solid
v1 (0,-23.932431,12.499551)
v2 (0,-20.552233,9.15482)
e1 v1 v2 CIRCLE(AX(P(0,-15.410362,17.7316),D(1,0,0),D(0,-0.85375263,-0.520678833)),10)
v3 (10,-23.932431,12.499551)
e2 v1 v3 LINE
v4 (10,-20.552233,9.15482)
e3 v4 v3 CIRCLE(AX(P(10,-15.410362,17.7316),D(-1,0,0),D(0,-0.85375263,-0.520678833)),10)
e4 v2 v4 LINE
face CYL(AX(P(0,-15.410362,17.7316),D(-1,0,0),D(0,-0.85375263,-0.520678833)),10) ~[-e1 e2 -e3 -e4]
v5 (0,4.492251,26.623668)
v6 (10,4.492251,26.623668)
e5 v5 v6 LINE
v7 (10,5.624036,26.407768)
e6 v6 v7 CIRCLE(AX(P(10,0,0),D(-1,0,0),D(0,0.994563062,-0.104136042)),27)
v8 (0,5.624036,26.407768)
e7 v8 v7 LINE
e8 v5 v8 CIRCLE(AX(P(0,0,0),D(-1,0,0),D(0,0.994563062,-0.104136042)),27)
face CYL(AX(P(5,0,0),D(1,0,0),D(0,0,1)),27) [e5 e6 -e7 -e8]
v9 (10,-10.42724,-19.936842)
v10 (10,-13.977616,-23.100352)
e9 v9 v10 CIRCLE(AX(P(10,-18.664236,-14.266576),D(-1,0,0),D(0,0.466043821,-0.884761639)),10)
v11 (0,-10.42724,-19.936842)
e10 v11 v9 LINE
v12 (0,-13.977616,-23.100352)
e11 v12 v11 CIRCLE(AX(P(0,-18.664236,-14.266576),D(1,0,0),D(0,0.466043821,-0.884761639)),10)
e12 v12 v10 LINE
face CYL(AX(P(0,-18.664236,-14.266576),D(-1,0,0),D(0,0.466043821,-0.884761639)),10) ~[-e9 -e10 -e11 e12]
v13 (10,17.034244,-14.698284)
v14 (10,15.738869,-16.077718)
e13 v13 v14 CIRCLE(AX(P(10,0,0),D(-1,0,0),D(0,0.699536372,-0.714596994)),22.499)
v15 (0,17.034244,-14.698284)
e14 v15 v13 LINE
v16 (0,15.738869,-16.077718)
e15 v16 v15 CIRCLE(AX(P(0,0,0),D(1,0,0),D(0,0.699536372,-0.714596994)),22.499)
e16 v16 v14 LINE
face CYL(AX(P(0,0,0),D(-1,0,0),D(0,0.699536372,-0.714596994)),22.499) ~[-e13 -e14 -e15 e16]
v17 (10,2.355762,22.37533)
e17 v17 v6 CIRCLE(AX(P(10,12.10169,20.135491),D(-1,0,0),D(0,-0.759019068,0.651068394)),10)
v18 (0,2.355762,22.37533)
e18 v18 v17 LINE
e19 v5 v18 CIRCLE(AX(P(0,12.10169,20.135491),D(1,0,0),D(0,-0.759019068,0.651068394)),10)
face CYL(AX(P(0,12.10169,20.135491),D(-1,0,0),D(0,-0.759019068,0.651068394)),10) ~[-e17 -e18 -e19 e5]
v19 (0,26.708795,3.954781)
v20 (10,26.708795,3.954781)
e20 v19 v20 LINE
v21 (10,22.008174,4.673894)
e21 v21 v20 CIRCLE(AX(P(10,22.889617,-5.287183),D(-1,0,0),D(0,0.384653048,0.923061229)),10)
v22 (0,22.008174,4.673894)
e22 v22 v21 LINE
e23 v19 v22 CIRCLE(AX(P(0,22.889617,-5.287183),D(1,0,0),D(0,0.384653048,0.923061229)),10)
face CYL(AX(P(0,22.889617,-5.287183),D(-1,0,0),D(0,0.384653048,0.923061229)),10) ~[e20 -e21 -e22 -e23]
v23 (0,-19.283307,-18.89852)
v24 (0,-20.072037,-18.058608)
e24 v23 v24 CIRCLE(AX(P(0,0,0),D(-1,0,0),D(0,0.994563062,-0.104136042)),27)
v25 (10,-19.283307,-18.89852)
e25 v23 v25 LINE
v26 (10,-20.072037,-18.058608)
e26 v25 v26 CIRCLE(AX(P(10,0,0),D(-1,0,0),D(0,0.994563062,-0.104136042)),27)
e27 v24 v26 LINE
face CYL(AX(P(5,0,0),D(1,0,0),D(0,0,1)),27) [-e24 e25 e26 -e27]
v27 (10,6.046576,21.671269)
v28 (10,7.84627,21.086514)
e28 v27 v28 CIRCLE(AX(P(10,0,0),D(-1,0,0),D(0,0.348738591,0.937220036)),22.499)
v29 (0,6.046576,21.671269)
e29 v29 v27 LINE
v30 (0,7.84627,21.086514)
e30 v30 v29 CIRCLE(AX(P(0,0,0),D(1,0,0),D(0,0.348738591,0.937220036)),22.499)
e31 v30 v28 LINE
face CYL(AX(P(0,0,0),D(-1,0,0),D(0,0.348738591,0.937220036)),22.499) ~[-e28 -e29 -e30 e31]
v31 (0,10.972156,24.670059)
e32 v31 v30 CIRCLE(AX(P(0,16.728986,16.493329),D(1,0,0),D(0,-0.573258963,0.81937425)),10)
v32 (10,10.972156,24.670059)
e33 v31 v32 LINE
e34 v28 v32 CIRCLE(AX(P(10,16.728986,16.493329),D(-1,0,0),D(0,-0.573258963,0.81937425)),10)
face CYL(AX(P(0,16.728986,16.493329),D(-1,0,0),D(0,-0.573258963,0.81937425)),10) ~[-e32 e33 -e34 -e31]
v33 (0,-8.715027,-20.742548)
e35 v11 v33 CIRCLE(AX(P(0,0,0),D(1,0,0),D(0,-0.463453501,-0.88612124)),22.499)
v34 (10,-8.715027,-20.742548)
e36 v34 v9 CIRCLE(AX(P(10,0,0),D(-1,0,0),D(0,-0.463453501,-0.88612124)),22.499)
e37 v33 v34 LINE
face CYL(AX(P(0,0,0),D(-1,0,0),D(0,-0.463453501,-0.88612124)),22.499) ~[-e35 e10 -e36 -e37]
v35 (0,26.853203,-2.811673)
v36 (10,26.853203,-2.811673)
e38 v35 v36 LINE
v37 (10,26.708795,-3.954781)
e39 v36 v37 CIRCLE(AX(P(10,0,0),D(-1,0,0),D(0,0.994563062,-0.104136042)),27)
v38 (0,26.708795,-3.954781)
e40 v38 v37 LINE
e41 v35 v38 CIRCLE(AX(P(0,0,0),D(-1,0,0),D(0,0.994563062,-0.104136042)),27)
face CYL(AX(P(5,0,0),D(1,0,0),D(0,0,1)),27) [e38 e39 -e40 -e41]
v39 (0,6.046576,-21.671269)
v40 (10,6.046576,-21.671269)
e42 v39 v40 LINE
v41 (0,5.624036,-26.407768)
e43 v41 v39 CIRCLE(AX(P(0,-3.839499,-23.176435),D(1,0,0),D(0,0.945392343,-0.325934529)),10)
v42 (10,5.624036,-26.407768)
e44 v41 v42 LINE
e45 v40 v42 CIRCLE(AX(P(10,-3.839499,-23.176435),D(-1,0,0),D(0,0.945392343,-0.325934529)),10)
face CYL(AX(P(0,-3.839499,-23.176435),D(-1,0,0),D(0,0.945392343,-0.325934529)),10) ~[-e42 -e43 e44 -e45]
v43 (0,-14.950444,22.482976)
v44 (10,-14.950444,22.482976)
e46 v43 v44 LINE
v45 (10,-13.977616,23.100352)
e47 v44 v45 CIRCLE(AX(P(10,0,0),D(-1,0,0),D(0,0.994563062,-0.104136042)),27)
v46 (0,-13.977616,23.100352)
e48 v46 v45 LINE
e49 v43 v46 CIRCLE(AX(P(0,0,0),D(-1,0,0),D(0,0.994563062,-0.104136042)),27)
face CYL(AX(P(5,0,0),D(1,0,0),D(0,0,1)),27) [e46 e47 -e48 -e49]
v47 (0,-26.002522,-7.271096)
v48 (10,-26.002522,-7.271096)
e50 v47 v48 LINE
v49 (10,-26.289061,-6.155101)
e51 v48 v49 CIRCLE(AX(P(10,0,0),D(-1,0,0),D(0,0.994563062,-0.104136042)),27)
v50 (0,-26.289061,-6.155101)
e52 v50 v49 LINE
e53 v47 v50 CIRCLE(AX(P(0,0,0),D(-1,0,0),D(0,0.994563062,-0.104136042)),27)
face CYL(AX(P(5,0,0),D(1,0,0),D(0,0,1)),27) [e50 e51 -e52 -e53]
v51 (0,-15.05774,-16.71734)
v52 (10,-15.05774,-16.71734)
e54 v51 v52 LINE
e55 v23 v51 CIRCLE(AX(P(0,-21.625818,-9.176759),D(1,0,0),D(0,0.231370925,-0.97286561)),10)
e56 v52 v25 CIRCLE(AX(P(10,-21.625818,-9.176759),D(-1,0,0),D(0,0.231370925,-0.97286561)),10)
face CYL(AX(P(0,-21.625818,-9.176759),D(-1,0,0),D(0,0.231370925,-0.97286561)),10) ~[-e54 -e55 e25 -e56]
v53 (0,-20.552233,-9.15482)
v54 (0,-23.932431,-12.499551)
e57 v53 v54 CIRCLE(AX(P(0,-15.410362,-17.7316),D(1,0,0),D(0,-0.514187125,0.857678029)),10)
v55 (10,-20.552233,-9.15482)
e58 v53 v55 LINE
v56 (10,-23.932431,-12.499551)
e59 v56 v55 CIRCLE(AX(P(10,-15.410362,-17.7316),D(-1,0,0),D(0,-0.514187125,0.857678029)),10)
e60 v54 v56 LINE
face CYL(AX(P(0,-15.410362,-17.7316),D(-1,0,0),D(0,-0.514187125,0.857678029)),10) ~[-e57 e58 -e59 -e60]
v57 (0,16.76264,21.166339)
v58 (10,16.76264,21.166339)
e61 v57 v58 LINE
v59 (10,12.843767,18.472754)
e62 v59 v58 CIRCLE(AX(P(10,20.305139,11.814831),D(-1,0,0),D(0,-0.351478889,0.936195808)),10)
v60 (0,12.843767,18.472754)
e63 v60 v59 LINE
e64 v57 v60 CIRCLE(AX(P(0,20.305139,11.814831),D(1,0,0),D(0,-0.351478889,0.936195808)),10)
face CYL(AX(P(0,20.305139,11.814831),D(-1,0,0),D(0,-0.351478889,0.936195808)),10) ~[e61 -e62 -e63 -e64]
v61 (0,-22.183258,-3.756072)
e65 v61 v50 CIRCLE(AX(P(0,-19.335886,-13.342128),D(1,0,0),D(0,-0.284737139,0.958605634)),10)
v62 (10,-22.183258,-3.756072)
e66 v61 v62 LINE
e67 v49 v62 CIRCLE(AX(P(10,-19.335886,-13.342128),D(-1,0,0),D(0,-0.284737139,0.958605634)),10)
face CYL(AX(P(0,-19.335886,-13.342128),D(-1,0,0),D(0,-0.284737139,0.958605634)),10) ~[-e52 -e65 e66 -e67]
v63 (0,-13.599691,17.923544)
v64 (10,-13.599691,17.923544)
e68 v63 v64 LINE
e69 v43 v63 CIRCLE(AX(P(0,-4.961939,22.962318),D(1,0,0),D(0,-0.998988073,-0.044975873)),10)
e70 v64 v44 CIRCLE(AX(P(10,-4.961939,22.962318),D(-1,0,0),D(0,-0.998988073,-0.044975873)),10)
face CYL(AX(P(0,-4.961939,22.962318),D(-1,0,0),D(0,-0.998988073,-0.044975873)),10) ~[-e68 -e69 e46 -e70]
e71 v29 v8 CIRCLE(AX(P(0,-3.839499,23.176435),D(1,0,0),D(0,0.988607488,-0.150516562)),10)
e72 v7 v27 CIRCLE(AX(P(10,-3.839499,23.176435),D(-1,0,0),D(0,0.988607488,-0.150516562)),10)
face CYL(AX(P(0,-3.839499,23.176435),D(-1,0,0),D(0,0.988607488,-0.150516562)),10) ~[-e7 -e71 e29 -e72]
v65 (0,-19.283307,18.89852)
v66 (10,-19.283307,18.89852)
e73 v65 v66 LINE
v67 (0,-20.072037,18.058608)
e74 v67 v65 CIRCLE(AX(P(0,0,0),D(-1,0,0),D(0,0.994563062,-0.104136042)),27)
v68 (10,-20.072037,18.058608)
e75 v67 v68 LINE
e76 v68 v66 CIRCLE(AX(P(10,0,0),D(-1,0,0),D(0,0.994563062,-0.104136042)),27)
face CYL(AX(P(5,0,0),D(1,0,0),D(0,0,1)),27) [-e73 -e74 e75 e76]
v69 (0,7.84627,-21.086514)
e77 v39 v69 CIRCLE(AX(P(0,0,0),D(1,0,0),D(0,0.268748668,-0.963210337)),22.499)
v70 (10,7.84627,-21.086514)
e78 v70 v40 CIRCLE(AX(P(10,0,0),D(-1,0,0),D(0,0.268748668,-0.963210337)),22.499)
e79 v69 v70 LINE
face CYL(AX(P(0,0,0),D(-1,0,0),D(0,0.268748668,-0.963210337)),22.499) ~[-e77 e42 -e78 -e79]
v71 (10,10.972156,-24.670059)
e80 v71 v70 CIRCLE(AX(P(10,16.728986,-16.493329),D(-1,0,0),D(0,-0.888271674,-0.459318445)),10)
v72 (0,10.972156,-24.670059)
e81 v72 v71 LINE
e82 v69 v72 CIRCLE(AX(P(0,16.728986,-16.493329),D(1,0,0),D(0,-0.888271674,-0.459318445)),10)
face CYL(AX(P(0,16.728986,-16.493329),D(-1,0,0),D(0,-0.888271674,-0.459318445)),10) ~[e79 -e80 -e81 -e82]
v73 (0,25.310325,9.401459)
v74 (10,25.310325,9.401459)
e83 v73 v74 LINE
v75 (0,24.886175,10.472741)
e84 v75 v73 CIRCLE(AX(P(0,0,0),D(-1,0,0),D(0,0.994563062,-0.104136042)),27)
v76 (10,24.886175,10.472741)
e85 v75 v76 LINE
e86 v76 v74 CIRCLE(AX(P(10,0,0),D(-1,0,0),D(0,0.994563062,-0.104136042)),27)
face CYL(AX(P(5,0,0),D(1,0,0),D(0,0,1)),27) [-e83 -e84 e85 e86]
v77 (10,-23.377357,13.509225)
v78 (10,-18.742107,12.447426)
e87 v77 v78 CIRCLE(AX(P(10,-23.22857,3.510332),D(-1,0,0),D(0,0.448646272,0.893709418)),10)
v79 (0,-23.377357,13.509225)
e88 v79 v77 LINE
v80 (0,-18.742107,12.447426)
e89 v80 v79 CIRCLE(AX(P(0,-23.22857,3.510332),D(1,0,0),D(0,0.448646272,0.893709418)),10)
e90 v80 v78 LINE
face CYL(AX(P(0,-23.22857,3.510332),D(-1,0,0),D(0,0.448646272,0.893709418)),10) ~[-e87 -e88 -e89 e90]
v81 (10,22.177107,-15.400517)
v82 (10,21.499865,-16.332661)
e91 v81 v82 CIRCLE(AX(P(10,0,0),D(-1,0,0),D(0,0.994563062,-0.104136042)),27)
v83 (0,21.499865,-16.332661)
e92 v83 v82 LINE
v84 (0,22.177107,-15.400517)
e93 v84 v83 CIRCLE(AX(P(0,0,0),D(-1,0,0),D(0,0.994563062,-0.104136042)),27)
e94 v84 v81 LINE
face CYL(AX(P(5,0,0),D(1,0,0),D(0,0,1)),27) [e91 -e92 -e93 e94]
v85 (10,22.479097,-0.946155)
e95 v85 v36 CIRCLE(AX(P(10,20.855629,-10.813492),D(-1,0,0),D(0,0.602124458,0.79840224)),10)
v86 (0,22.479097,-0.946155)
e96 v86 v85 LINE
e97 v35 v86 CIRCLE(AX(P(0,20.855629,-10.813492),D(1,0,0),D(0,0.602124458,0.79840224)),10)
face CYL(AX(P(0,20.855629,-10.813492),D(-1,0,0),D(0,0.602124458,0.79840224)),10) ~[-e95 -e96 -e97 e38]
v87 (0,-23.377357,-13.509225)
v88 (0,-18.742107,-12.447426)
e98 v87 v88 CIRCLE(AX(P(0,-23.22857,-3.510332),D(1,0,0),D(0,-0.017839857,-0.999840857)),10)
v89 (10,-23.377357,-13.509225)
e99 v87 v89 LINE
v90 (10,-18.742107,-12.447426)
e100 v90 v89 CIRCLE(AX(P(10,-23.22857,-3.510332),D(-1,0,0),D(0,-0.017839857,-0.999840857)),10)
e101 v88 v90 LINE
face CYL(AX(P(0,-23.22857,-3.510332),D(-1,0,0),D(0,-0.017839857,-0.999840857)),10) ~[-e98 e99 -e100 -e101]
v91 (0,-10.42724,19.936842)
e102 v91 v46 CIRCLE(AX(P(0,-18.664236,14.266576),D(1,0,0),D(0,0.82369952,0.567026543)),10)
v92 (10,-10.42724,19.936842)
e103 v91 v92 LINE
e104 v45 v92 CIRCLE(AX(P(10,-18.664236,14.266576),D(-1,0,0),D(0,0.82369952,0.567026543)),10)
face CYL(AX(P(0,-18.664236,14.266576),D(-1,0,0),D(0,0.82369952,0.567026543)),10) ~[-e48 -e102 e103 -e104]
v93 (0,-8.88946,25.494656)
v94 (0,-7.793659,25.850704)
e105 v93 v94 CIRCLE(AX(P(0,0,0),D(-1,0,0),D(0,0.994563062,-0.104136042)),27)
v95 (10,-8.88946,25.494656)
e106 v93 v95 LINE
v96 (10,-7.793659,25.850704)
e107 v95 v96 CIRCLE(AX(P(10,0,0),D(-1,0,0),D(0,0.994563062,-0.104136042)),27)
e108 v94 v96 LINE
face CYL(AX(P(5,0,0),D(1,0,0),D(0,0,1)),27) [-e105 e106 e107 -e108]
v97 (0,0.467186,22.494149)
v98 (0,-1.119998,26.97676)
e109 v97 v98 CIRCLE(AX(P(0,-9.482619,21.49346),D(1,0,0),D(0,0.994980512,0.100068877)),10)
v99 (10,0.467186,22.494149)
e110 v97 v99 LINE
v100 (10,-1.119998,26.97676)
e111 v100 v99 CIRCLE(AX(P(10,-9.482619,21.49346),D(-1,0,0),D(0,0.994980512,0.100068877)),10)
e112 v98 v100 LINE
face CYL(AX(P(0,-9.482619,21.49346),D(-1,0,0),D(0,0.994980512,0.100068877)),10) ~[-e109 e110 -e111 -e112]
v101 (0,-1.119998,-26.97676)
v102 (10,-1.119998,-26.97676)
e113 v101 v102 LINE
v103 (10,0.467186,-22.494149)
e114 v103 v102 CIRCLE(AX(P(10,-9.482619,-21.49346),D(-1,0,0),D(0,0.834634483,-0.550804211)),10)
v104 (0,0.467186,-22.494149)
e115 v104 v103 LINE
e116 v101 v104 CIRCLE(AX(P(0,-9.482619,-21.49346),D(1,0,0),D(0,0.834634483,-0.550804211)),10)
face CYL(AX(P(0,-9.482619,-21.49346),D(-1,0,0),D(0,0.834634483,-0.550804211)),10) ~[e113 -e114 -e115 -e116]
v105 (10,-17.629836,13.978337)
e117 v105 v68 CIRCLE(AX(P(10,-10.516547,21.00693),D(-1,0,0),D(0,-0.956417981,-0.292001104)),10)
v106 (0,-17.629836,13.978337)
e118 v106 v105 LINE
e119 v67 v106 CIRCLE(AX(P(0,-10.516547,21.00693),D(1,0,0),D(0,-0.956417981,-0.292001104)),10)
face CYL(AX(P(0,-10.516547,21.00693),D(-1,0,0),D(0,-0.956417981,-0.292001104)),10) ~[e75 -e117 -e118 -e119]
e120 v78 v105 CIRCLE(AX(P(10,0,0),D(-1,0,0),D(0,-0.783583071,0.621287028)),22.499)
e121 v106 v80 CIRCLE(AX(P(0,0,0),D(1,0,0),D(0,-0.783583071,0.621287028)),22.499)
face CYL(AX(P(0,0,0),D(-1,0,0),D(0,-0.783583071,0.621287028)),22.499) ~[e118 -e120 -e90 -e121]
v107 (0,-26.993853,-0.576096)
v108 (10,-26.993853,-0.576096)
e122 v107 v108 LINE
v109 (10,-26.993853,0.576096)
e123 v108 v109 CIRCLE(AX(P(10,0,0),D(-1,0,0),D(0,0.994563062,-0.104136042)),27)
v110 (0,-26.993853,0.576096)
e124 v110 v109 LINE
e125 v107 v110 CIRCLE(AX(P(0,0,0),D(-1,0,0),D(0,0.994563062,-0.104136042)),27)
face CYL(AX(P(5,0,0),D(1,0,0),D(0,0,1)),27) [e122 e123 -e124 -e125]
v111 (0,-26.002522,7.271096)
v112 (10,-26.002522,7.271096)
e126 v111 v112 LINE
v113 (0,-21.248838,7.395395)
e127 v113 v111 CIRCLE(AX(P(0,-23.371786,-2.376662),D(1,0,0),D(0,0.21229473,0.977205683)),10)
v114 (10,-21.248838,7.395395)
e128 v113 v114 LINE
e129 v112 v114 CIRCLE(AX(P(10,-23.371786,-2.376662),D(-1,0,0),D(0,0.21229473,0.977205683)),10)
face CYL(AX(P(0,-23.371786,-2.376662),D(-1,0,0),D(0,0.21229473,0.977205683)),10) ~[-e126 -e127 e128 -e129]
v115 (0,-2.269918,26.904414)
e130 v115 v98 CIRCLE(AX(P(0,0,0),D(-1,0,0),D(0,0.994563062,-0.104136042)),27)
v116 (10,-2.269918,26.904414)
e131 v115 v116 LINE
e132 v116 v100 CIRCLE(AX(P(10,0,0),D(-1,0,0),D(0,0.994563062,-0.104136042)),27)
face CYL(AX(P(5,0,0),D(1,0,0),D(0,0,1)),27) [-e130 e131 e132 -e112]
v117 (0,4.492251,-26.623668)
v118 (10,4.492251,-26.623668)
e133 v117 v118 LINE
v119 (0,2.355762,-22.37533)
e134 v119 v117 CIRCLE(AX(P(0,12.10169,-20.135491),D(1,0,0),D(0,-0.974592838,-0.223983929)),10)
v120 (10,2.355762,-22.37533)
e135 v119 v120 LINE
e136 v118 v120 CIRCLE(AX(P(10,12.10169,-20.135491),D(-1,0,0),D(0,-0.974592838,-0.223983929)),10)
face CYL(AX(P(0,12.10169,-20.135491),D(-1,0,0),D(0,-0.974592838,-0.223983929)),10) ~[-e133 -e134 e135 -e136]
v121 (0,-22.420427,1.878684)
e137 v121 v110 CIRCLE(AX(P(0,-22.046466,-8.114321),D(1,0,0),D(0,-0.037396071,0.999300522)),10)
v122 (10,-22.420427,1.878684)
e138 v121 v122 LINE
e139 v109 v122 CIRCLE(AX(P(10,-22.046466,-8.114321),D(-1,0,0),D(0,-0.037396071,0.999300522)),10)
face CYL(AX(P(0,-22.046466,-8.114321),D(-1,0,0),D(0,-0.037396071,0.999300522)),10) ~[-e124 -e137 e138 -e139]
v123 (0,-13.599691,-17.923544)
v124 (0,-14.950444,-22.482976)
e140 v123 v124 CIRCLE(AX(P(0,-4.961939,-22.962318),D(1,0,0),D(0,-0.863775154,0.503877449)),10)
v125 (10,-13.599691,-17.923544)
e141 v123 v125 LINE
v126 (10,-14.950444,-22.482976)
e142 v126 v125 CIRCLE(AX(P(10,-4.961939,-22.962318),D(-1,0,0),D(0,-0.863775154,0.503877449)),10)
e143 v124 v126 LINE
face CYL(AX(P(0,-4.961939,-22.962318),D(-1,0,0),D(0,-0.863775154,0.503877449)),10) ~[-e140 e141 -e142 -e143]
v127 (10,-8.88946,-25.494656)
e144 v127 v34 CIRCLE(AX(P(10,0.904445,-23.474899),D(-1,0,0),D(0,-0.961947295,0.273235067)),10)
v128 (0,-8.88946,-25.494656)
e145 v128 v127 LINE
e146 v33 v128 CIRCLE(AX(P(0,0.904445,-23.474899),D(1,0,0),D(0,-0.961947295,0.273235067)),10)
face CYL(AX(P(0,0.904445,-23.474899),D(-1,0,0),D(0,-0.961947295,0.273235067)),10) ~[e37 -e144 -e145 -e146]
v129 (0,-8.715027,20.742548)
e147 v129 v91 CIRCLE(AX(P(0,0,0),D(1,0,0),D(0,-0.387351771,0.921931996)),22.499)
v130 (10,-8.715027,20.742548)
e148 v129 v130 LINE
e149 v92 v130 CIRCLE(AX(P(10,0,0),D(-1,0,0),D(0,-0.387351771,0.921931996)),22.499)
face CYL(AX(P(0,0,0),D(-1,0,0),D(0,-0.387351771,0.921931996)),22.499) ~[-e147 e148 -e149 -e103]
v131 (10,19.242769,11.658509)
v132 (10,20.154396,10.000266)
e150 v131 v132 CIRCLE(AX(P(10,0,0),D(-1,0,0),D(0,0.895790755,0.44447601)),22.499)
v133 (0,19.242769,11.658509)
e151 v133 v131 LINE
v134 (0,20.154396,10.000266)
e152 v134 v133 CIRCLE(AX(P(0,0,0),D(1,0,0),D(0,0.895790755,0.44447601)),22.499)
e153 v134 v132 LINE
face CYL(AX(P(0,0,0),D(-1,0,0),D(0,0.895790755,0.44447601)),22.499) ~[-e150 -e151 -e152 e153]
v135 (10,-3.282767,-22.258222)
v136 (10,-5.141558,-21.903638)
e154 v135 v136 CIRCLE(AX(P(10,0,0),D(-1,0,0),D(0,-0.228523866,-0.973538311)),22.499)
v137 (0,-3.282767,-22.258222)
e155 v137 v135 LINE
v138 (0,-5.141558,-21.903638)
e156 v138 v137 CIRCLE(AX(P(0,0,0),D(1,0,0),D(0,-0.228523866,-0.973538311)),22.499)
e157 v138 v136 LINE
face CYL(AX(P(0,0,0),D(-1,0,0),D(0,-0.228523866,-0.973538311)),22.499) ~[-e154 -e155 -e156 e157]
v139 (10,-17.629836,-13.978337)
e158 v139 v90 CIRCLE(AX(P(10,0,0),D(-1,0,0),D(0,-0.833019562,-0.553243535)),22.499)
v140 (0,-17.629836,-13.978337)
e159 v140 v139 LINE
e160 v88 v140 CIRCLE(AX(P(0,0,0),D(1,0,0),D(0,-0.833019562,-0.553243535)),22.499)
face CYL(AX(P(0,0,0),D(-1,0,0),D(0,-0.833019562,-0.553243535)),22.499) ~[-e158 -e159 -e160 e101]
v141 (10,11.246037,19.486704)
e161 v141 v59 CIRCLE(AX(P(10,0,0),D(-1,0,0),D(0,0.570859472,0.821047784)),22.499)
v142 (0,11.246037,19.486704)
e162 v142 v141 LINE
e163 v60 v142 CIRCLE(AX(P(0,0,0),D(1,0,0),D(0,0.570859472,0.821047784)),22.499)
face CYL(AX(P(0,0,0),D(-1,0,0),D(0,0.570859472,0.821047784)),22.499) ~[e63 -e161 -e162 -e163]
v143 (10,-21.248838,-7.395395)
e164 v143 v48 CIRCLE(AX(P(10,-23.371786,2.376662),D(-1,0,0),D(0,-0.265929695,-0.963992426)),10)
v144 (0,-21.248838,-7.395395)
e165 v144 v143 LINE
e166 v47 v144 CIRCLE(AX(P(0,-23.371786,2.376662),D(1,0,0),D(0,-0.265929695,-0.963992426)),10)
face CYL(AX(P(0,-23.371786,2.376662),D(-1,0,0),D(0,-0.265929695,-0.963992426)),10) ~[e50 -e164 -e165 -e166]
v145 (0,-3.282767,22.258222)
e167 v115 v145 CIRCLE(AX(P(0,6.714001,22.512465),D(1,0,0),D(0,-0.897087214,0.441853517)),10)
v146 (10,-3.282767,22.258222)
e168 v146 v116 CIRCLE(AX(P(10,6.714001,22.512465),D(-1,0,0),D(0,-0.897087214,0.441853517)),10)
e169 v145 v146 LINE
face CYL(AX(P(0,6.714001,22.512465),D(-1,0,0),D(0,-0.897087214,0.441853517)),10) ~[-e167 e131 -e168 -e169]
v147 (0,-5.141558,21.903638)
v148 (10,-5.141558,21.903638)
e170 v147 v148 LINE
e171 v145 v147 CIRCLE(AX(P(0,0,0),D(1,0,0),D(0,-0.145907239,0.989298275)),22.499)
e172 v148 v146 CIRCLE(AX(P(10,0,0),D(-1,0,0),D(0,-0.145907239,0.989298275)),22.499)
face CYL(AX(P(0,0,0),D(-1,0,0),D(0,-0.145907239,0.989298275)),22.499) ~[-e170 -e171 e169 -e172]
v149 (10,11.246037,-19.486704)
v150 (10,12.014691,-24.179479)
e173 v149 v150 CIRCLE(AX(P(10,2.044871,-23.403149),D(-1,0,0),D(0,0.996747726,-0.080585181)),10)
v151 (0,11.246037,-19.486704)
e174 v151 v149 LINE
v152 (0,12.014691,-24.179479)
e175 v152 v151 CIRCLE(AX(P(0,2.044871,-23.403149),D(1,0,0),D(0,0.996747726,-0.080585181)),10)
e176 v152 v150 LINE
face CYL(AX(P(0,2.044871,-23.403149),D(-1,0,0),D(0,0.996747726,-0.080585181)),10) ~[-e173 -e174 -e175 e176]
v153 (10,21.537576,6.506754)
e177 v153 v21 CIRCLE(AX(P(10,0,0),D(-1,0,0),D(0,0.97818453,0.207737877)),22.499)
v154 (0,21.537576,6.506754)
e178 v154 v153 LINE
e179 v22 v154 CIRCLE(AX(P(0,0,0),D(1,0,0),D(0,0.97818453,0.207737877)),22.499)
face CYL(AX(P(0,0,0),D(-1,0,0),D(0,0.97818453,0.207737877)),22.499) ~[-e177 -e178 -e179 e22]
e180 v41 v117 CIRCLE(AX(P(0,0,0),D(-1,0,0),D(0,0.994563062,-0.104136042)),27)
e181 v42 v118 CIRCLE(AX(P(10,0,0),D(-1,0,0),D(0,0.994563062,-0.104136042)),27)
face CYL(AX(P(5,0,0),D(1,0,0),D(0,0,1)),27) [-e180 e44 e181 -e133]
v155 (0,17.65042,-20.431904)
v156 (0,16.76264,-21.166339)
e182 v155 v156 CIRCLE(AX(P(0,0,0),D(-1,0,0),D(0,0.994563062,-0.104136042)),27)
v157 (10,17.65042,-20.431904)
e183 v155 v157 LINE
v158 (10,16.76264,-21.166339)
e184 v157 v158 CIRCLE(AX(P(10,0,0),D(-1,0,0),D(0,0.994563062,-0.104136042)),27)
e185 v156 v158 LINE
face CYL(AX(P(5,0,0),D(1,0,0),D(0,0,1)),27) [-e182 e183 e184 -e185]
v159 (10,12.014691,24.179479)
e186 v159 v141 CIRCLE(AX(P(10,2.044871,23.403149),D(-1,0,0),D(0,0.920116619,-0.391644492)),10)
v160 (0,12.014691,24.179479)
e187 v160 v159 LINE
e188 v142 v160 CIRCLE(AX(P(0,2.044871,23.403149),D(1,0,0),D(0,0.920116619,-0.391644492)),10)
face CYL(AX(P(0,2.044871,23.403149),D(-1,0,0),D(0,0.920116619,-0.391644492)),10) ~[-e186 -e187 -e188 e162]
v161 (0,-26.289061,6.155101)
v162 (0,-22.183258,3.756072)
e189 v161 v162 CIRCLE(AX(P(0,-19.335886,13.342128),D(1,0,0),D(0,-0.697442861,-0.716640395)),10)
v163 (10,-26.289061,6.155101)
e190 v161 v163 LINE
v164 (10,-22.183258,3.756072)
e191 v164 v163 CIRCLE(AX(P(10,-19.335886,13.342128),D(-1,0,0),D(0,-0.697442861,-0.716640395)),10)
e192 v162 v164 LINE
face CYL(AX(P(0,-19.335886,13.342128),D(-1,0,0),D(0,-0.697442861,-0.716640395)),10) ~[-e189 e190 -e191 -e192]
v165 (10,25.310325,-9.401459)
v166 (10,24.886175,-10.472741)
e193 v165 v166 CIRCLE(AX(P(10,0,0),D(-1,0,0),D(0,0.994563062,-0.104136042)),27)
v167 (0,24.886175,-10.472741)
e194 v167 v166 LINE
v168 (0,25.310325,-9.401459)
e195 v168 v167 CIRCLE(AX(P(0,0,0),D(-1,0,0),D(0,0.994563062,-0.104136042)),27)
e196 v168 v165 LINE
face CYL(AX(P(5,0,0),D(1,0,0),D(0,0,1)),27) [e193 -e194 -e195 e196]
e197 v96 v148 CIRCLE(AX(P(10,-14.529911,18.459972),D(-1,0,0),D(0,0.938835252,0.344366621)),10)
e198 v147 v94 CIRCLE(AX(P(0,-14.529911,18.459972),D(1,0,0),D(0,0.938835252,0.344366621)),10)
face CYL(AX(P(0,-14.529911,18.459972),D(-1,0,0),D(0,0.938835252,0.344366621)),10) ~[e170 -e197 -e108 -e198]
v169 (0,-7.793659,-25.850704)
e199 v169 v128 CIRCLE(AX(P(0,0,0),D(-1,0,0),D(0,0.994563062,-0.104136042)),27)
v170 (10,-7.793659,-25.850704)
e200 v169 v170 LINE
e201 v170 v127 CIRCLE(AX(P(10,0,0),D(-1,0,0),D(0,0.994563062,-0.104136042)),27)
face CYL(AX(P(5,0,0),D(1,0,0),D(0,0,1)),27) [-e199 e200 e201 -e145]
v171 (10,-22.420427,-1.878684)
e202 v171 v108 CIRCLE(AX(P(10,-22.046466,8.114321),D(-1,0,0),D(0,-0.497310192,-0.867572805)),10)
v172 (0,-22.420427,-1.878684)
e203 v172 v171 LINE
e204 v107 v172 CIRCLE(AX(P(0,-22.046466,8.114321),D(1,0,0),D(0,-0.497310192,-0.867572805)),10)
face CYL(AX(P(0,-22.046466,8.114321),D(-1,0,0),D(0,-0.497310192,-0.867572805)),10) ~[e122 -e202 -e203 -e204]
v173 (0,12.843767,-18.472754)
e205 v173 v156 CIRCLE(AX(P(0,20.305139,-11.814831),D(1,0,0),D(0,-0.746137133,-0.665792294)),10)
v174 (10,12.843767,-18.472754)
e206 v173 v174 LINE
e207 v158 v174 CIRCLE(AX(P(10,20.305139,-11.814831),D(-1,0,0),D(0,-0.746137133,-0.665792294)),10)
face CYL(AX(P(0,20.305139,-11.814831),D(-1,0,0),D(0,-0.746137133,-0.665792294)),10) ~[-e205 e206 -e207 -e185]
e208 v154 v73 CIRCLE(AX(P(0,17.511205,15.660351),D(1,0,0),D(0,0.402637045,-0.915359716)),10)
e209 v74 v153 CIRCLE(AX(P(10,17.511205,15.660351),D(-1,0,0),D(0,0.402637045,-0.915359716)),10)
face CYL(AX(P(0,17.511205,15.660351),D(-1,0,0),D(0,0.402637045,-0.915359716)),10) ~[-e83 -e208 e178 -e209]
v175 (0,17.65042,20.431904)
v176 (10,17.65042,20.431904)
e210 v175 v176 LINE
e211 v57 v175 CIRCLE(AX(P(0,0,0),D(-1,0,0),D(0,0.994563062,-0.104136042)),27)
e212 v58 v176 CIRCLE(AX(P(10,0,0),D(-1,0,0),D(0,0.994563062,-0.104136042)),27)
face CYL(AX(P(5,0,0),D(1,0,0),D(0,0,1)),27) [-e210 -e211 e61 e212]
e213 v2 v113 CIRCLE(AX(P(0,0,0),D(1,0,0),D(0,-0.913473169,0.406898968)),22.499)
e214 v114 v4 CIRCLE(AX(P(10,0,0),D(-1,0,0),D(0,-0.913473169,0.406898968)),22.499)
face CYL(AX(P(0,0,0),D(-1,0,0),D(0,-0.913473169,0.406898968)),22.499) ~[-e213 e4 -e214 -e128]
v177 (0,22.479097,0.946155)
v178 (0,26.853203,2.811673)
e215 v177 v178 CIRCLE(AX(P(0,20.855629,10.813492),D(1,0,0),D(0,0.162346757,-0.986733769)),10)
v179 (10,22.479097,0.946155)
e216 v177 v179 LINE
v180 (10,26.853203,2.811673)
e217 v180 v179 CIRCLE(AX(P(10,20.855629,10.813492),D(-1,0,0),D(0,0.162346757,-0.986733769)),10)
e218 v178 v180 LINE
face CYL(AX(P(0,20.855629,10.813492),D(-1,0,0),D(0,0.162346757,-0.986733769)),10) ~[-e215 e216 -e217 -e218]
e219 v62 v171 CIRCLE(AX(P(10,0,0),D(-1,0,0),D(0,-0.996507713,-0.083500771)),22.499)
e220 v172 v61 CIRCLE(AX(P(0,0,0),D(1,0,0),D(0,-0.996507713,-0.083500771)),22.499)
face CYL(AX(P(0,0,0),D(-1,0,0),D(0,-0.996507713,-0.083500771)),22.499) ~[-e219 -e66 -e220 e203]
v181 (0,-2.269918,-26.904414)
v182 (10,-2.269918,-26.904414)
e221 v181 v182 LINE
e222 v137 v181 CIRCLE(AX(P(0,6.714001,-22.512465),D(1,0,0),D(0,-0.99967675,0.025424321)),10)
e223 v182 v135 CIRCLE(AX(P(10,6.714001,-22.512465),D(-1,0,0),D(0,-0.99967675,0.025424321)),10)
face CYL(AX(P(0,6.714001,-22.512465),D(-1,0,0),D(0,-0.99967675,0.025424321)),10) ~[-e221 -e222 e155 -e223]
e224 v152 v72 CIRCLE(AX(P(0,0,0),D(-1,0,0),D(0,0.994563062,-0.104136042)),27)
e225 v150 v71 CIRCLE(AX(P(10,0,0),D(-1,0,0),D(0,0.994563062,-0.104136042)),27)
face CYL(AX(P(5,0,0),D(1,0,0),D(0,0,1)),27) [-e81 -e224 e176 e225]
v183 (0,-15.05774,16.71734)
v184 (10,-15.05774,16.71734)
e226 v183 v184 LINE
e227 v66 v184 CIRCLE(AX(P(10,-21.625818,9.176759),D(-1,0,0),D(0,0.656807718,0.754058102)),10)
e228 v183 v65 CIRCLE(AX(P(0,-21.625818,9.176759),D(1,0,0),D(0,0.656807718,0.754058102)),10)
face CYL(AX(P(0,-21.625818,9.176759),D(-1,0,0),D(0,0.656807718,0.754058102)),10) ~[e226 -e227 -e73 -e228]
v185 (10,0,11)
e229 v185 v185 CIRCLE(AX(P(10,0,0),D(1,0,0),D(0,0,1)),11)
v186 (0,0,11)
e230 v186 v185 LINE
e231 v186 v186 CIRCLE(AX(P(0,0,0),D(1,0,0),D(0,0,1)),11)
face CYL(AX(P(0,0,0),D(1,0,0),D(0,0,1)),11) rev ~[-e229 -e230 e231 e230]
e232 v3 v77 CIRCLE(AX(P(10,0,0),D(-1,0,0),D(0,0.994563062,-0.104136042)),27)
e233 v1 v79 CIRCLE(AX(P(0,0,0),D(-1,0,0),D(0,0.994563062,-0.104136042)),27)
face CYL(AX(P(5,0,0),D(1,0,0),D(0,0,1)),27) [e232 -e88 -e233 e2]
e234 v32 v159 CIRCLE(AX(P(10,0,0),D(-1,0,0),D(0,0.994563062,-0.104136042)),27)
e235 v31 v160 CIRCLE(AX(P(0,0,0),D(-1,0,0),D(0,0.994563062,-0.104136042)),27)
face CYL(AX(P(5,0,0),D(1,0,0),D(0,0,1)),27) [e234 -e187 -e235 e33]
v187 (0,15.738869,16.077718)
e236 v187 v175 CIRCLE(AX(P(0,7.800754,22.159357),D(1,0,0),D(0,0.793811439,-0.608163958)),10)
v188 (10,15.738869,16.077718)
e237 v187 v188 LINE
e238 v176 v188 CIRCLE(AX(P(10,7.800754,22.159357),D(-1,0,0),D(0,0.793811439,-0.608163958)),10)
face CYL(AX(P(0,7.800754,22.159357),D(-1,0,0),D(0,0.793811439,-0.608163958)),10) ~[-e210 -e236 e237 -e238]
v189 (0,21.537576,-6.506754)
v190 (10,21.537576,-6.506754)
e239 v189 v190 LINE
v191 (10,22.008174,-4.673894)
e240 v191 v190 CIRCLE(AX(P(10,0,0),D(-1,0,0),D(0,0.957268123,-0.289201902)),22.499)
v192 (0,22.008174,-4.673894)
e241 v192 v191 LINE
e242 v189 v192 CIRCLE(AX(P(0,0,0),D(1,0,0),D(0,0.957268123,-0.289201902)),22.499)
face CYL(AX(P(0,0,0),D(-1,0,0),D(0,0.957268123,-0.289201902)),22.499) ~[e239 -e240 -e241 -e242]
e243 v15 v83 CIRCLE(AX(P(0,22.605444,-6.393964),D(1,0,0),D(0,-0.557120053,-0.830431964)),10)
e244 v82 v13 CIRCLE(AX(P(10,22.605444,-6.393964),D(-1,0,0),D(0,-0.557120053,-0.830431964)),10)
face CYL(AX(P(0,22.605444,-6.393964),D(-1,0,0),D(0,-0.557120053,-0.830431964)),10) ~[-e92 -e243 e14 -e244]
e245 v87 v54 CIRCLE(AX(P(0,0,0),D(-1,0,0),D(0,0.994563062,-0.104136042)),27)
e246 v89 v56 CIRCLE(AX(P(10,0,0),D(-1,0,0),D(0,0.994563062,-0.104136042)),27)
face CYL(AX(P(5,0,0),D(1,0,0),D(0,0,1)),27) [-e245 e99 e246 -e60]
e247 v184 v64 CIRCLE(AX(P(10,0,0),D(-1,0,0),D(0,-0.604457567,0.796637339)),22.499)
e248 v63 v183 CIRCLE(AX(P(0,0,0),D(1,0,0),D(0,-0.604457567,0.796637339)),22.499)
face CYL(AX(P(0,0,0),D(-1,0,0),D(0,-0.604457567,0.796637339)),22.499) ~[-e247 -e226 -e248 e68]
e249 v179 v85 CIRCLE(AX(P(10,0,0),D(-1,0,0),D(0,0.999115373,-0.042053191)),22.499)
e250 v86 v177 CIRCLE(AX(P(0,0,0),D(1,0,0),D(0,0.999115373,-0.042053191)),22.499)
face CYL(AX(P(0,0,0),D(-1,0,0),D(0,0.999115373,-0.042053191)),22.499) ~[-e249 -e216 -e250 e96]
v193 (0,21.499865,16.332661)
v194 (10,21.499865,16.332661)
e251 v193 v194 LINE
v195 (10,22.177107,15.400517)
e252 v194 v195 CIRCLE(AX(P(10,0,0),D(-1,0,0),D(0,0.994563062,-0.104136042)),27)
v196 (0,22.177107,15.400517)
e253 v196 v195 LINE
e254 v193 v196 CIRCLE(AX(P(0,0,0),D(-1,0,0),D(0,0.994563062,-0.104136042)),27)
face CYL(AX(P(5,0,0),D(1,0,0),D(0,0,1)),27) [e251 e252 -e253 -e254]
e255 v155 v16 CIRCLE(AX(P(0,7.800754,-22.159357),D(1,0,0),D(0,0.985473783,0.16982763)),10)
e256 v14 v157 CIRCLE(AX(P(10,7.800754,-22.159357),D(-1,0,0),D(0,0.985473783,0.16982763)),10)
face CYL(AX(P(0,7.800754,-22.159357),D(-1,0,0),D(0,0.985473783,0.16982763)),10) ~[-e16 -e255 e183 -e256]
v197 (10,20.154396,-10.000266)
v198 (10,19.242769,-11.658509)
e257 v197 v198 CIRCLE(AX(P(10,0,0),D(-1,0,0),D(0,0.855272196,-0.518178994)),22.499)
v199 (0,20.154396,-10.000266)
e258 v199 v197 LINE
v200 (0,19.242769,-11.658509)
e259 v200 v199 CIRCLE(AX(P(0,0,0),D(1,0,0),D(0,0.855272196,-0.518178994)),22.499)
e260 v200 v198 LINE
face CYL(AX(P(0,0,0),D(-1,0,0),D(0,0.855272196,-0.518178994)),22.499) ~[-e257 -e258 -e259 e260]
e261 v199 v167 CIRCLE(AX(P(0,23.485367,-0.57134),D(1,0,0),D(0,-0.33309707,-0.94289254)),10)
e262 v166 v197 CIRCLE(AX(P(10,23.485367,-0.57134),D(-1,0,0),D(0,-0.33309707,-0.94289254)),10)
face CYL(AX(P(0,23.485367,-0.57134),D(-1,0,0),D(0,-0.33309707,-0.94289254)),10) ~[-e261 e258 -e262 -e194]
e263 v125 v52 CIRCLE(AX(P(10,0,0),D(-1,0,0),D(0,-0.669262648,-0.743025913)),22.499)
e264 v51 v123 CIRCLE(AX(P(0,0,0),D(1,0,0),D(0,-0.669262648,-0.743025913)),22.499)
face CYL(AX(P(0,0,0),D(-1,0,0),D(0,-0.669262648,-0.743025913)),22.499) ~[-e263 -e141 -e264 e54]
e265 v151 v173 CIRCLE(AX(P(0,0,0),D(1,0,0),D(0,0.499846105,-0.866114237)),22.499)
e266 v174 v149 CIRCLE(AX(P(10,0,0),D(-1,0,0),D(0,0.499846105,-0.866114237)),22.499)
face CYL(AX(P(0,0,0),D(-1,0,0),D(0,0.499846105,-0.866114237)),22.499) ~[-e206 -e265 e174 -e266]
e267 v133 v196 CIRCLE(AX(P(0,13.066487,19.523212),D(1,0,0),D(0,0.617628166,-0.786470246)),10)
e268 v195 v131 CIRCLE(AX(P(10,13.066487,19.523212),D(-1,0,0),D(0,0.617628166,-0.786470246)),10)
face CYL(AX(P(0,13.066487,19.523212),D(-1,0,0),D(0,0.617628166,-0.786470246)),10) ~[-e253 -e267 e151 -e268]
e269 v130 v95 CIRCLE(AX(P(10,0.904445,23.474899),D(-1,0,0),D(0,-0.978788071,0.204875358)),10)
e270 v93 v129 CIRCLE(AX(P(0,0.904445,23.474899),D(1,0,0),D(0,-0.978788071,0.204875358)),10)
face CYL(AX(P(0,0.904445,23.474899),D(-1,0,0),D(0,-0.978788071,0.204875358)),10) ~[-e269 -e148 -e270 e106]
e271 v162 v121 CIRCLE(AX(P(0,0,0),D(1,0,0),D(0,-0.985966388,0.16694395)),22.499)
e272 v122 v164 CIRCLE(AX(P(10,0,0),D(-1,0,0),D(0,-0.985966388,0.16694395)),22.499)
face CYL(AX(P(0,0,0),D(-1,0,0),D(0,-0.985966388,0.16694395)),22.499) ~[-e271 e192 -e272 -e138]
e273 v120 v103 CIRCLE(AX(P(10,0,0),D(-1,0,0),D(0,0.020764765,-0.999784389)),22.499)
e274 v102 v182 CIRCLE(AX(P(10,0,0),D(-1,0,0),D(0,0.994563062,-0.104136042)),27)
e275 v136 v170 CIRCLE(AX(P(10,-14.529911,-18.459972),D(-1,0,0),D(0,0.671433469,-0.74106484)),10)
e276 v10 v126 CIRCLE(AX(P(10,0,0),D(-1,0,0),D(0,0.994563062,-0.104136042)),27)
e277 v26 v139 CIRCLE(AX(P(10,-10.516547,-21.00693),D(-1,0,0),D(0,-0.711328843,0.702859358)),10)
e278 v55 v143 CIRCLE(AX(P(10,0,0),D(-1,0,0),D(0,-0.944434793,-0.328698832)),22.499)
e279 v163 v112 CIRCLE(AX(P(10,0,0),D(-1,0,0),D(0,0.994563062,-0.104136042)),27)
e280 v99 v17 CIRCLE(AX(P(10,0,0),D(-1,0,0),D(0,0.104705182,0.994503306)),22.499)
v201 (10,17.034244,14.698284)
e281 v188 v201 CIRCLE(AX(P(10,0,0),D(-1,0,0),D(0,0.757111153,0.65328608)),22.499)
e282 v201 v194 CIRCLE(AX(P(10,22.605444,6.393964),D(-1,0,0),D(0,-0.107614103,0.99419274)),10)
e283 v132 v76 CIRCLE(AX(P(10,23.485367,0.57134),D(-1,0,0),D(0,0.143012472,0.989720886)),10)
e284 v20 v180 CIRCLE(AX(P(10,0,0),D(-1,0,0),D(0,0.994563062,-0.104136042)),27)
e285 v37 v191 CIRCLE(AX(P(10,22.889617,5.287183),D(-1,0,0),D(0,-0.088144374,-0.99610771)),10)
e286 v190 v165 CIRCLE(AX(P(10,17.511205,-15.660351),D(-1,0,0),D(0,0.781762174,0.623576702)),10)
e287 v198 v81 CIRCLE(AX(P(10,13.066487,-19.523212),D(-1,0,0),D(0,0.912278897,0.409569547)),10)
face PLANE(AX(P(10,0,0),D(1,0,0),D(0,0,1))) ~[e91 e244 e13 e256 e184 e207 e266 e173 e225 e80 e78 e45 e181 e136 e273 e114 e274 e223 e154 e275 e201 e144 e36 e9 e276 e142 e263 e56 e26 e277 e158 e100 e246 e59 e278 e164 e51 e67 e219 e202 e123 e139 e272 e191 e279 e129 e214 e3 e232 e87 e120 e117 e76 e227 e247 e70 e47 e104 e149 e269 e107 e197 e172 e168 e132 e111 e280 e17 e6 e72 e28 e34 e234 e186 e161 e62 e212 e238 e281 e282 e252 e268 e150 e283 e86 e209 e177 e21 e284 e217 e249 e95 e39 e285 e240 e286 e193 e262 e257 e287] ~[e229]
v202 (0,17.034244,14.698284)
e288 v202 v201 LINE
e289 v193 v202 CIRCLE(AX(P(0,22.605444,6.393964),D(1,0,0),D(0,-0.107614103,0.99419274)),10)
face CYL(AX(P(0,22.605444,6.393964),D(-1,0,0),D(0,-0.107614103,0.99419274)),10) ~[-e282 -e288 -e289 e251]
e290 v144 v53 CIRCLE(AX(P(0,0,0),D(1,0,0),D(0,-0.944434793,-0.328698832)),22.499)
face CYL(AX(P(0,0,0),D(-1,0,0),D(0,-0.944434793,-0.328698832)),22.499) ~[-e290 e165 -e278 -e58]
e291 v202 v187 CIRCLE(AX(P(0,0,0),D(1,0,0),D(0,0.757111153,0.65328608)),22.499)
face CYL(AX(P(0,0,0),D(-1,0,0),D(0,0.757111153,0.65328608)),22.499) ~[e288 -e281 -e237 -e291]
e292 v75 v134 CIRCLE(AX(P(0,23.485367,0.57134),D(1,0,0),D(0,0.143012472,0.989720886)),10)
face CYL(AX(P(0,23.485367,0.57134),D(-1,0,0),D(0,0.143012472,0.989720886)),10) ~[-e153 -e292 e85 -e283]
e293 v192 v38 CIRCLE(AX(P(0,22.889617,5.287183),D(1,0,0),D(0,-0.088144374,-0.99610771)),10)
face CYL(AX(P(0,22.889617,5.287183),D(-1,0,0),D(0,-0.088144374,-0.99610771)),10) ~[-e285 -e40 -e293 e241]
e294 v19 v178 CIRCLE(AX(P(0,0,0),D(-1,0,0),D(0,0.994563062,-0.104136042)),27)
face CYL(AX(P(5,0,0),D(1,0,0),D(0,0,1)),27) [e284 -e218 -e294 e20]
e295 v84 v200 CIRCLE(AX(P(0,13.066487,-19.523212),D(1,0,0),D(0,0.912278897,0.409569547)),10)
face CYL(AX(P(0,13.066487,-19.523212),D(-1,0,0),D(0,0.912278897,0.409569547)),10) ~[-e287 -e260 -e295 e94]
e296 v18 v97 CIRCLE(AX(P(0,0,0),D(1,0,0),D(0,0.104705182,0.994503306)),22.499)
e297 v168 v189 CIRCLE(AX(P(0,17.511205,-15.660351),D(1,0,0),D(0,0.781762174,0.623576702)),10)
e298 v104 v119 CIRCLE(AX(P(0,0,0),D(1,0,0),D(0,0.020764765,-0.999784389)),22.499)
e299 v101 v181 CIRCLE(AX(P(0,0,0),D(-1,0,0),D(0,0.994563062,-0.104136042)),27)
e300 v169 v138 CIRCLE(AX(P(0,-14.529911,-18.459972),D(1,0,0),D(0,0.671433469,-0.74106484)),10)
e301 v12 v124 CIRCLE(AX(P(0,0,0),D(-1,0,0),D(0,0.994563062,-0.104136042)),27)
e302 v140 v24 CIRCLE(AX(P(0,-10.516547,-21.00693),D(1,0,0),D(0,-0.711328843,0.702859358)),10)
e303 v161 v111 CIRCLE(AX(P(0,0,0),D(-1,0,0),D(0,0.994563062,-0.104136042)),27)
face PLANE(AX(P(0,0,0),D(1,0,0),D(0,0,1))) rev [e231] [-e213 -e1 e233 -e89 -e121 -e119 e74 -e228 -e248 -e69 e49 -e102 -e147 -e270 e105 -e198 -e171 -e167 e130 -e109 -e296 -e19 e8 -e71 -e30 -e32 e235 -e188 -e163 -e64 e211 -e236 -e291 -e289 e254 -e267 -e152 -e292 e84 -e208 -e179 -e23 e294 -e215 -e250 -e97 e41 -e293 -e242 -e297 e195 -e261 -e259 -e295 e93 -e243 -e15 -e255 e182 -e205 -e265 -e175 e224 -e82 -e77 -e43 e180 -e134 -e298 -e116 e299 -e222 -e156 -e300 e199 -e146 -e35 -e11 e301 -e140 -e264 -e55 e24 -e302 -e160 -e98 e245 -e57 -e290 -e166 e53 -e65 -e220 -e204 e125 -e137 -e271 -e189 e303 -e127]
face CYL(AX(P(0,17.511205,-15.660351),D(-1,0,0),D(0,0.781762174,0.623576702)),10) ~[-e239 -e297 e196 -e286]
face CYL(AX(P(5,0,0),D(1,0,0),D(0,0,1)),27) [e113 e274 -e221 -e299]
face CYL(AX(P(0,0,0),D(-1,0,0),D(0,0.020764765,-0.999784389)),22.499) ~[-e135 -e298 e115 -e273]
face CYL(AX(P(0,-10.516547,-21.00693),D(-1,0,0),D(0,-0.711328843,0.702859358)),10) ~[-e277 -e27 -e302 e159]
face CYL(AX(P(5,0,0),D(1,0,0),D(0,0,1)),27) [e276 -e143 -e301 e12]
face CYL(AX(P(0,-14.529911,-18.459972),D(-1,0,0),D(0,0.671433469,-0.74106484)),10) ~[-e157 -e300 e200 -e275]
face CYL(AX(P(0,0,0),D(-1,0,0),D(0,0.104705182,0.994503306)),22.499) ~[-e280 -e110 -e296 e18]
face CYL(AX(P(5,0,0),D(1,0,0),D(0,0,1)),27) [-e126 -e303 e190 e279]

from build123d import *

# Parameters (mm, degrees)
BASPROSKE_W     = 10
BASPROSKE_H     = 27
TOOTHCUT_DEPTH  = 40.471508712
TEETHCUTS_COUNT = 25
TEETHCUTS_ANGLE = 345.6
BORSKE_R        = 11
BORE_DEPTH      = 50.0000508


with BuildPart() as part:
    # BasProSke → Base-Revolve (revolve)
    with BuildSketch(Plane(origin=(0, 0, 0), x_dir=(1, 0, 0), z_dir=(0, 1, 0)), mode=Mode.PRIVATE) as base_revolve_sk:
        with Locations((5, 13.5)):
            Rectangle(BASPROSKE_W, BASPROSKE_H)
    revolve(base_revolve_sk.sketch.rotate(Axis((-10, 0, 0), (1, 0, 0)), 180), axis=Axis((-10, 0, 0), (1, 0, 0)))

    # TooCutSke → ToothCut (cut, through all)
    with BuildSketch(Plane(origin=(0, 0, 0), x_dir=(0, 0, -1), z_dir=(1, 0, 0))):
        with BuildLine():
            ThreePointArc((0.946154762, 22.479096783), (0, 22.499), (-0.946154762, 22.479096783))
            ThreePointArc((-0.946154762, 22.479096783), (-1.62094792, 24.792268013), (-2.829470045, 26.876873784))
            ThreePointArc((-2.829470045, 26.876873784), (0, 27.0254), (2.829470045, 26.876873784))
            ThreePointArc((2.829470045, 26.876873784), (1.62094792, 24.792268013), (0.946154762, 22.479096783))
        make_face()
    toothcut = extrude(amount=TOOTHCUT_DEPTH, mode=Mode.SUBTRACT)

    # TeethCuts: ToothCut ×25 about axis
    teethcuts_axis = Axis((-10, 0, 0), (1, 0, 0))
    for i in range(1, TEETHCUTS_COUNT):
        add(toothcut.rotate(teethcuts_axis, i * TEETHCUTS_ANGLE / (TEETHCUTS_COUNT - 1)), mode=Mode.SUBTRACT)

    # BorSke → Bore (cut, symmetric)
    with BuildSketch(Plane(origin=(0, 0, 0), x_dir=(0, 0, -1), z_dir=(1, 0, 0))):
        with Locations(Location((0, 0, 0), (0, 0, 180))):
            Circle(BORSKE_R)
    extrude(amount=BORE_DEPTH, both=True, mode=Mode.SUBTRACT)


solid = part.part
